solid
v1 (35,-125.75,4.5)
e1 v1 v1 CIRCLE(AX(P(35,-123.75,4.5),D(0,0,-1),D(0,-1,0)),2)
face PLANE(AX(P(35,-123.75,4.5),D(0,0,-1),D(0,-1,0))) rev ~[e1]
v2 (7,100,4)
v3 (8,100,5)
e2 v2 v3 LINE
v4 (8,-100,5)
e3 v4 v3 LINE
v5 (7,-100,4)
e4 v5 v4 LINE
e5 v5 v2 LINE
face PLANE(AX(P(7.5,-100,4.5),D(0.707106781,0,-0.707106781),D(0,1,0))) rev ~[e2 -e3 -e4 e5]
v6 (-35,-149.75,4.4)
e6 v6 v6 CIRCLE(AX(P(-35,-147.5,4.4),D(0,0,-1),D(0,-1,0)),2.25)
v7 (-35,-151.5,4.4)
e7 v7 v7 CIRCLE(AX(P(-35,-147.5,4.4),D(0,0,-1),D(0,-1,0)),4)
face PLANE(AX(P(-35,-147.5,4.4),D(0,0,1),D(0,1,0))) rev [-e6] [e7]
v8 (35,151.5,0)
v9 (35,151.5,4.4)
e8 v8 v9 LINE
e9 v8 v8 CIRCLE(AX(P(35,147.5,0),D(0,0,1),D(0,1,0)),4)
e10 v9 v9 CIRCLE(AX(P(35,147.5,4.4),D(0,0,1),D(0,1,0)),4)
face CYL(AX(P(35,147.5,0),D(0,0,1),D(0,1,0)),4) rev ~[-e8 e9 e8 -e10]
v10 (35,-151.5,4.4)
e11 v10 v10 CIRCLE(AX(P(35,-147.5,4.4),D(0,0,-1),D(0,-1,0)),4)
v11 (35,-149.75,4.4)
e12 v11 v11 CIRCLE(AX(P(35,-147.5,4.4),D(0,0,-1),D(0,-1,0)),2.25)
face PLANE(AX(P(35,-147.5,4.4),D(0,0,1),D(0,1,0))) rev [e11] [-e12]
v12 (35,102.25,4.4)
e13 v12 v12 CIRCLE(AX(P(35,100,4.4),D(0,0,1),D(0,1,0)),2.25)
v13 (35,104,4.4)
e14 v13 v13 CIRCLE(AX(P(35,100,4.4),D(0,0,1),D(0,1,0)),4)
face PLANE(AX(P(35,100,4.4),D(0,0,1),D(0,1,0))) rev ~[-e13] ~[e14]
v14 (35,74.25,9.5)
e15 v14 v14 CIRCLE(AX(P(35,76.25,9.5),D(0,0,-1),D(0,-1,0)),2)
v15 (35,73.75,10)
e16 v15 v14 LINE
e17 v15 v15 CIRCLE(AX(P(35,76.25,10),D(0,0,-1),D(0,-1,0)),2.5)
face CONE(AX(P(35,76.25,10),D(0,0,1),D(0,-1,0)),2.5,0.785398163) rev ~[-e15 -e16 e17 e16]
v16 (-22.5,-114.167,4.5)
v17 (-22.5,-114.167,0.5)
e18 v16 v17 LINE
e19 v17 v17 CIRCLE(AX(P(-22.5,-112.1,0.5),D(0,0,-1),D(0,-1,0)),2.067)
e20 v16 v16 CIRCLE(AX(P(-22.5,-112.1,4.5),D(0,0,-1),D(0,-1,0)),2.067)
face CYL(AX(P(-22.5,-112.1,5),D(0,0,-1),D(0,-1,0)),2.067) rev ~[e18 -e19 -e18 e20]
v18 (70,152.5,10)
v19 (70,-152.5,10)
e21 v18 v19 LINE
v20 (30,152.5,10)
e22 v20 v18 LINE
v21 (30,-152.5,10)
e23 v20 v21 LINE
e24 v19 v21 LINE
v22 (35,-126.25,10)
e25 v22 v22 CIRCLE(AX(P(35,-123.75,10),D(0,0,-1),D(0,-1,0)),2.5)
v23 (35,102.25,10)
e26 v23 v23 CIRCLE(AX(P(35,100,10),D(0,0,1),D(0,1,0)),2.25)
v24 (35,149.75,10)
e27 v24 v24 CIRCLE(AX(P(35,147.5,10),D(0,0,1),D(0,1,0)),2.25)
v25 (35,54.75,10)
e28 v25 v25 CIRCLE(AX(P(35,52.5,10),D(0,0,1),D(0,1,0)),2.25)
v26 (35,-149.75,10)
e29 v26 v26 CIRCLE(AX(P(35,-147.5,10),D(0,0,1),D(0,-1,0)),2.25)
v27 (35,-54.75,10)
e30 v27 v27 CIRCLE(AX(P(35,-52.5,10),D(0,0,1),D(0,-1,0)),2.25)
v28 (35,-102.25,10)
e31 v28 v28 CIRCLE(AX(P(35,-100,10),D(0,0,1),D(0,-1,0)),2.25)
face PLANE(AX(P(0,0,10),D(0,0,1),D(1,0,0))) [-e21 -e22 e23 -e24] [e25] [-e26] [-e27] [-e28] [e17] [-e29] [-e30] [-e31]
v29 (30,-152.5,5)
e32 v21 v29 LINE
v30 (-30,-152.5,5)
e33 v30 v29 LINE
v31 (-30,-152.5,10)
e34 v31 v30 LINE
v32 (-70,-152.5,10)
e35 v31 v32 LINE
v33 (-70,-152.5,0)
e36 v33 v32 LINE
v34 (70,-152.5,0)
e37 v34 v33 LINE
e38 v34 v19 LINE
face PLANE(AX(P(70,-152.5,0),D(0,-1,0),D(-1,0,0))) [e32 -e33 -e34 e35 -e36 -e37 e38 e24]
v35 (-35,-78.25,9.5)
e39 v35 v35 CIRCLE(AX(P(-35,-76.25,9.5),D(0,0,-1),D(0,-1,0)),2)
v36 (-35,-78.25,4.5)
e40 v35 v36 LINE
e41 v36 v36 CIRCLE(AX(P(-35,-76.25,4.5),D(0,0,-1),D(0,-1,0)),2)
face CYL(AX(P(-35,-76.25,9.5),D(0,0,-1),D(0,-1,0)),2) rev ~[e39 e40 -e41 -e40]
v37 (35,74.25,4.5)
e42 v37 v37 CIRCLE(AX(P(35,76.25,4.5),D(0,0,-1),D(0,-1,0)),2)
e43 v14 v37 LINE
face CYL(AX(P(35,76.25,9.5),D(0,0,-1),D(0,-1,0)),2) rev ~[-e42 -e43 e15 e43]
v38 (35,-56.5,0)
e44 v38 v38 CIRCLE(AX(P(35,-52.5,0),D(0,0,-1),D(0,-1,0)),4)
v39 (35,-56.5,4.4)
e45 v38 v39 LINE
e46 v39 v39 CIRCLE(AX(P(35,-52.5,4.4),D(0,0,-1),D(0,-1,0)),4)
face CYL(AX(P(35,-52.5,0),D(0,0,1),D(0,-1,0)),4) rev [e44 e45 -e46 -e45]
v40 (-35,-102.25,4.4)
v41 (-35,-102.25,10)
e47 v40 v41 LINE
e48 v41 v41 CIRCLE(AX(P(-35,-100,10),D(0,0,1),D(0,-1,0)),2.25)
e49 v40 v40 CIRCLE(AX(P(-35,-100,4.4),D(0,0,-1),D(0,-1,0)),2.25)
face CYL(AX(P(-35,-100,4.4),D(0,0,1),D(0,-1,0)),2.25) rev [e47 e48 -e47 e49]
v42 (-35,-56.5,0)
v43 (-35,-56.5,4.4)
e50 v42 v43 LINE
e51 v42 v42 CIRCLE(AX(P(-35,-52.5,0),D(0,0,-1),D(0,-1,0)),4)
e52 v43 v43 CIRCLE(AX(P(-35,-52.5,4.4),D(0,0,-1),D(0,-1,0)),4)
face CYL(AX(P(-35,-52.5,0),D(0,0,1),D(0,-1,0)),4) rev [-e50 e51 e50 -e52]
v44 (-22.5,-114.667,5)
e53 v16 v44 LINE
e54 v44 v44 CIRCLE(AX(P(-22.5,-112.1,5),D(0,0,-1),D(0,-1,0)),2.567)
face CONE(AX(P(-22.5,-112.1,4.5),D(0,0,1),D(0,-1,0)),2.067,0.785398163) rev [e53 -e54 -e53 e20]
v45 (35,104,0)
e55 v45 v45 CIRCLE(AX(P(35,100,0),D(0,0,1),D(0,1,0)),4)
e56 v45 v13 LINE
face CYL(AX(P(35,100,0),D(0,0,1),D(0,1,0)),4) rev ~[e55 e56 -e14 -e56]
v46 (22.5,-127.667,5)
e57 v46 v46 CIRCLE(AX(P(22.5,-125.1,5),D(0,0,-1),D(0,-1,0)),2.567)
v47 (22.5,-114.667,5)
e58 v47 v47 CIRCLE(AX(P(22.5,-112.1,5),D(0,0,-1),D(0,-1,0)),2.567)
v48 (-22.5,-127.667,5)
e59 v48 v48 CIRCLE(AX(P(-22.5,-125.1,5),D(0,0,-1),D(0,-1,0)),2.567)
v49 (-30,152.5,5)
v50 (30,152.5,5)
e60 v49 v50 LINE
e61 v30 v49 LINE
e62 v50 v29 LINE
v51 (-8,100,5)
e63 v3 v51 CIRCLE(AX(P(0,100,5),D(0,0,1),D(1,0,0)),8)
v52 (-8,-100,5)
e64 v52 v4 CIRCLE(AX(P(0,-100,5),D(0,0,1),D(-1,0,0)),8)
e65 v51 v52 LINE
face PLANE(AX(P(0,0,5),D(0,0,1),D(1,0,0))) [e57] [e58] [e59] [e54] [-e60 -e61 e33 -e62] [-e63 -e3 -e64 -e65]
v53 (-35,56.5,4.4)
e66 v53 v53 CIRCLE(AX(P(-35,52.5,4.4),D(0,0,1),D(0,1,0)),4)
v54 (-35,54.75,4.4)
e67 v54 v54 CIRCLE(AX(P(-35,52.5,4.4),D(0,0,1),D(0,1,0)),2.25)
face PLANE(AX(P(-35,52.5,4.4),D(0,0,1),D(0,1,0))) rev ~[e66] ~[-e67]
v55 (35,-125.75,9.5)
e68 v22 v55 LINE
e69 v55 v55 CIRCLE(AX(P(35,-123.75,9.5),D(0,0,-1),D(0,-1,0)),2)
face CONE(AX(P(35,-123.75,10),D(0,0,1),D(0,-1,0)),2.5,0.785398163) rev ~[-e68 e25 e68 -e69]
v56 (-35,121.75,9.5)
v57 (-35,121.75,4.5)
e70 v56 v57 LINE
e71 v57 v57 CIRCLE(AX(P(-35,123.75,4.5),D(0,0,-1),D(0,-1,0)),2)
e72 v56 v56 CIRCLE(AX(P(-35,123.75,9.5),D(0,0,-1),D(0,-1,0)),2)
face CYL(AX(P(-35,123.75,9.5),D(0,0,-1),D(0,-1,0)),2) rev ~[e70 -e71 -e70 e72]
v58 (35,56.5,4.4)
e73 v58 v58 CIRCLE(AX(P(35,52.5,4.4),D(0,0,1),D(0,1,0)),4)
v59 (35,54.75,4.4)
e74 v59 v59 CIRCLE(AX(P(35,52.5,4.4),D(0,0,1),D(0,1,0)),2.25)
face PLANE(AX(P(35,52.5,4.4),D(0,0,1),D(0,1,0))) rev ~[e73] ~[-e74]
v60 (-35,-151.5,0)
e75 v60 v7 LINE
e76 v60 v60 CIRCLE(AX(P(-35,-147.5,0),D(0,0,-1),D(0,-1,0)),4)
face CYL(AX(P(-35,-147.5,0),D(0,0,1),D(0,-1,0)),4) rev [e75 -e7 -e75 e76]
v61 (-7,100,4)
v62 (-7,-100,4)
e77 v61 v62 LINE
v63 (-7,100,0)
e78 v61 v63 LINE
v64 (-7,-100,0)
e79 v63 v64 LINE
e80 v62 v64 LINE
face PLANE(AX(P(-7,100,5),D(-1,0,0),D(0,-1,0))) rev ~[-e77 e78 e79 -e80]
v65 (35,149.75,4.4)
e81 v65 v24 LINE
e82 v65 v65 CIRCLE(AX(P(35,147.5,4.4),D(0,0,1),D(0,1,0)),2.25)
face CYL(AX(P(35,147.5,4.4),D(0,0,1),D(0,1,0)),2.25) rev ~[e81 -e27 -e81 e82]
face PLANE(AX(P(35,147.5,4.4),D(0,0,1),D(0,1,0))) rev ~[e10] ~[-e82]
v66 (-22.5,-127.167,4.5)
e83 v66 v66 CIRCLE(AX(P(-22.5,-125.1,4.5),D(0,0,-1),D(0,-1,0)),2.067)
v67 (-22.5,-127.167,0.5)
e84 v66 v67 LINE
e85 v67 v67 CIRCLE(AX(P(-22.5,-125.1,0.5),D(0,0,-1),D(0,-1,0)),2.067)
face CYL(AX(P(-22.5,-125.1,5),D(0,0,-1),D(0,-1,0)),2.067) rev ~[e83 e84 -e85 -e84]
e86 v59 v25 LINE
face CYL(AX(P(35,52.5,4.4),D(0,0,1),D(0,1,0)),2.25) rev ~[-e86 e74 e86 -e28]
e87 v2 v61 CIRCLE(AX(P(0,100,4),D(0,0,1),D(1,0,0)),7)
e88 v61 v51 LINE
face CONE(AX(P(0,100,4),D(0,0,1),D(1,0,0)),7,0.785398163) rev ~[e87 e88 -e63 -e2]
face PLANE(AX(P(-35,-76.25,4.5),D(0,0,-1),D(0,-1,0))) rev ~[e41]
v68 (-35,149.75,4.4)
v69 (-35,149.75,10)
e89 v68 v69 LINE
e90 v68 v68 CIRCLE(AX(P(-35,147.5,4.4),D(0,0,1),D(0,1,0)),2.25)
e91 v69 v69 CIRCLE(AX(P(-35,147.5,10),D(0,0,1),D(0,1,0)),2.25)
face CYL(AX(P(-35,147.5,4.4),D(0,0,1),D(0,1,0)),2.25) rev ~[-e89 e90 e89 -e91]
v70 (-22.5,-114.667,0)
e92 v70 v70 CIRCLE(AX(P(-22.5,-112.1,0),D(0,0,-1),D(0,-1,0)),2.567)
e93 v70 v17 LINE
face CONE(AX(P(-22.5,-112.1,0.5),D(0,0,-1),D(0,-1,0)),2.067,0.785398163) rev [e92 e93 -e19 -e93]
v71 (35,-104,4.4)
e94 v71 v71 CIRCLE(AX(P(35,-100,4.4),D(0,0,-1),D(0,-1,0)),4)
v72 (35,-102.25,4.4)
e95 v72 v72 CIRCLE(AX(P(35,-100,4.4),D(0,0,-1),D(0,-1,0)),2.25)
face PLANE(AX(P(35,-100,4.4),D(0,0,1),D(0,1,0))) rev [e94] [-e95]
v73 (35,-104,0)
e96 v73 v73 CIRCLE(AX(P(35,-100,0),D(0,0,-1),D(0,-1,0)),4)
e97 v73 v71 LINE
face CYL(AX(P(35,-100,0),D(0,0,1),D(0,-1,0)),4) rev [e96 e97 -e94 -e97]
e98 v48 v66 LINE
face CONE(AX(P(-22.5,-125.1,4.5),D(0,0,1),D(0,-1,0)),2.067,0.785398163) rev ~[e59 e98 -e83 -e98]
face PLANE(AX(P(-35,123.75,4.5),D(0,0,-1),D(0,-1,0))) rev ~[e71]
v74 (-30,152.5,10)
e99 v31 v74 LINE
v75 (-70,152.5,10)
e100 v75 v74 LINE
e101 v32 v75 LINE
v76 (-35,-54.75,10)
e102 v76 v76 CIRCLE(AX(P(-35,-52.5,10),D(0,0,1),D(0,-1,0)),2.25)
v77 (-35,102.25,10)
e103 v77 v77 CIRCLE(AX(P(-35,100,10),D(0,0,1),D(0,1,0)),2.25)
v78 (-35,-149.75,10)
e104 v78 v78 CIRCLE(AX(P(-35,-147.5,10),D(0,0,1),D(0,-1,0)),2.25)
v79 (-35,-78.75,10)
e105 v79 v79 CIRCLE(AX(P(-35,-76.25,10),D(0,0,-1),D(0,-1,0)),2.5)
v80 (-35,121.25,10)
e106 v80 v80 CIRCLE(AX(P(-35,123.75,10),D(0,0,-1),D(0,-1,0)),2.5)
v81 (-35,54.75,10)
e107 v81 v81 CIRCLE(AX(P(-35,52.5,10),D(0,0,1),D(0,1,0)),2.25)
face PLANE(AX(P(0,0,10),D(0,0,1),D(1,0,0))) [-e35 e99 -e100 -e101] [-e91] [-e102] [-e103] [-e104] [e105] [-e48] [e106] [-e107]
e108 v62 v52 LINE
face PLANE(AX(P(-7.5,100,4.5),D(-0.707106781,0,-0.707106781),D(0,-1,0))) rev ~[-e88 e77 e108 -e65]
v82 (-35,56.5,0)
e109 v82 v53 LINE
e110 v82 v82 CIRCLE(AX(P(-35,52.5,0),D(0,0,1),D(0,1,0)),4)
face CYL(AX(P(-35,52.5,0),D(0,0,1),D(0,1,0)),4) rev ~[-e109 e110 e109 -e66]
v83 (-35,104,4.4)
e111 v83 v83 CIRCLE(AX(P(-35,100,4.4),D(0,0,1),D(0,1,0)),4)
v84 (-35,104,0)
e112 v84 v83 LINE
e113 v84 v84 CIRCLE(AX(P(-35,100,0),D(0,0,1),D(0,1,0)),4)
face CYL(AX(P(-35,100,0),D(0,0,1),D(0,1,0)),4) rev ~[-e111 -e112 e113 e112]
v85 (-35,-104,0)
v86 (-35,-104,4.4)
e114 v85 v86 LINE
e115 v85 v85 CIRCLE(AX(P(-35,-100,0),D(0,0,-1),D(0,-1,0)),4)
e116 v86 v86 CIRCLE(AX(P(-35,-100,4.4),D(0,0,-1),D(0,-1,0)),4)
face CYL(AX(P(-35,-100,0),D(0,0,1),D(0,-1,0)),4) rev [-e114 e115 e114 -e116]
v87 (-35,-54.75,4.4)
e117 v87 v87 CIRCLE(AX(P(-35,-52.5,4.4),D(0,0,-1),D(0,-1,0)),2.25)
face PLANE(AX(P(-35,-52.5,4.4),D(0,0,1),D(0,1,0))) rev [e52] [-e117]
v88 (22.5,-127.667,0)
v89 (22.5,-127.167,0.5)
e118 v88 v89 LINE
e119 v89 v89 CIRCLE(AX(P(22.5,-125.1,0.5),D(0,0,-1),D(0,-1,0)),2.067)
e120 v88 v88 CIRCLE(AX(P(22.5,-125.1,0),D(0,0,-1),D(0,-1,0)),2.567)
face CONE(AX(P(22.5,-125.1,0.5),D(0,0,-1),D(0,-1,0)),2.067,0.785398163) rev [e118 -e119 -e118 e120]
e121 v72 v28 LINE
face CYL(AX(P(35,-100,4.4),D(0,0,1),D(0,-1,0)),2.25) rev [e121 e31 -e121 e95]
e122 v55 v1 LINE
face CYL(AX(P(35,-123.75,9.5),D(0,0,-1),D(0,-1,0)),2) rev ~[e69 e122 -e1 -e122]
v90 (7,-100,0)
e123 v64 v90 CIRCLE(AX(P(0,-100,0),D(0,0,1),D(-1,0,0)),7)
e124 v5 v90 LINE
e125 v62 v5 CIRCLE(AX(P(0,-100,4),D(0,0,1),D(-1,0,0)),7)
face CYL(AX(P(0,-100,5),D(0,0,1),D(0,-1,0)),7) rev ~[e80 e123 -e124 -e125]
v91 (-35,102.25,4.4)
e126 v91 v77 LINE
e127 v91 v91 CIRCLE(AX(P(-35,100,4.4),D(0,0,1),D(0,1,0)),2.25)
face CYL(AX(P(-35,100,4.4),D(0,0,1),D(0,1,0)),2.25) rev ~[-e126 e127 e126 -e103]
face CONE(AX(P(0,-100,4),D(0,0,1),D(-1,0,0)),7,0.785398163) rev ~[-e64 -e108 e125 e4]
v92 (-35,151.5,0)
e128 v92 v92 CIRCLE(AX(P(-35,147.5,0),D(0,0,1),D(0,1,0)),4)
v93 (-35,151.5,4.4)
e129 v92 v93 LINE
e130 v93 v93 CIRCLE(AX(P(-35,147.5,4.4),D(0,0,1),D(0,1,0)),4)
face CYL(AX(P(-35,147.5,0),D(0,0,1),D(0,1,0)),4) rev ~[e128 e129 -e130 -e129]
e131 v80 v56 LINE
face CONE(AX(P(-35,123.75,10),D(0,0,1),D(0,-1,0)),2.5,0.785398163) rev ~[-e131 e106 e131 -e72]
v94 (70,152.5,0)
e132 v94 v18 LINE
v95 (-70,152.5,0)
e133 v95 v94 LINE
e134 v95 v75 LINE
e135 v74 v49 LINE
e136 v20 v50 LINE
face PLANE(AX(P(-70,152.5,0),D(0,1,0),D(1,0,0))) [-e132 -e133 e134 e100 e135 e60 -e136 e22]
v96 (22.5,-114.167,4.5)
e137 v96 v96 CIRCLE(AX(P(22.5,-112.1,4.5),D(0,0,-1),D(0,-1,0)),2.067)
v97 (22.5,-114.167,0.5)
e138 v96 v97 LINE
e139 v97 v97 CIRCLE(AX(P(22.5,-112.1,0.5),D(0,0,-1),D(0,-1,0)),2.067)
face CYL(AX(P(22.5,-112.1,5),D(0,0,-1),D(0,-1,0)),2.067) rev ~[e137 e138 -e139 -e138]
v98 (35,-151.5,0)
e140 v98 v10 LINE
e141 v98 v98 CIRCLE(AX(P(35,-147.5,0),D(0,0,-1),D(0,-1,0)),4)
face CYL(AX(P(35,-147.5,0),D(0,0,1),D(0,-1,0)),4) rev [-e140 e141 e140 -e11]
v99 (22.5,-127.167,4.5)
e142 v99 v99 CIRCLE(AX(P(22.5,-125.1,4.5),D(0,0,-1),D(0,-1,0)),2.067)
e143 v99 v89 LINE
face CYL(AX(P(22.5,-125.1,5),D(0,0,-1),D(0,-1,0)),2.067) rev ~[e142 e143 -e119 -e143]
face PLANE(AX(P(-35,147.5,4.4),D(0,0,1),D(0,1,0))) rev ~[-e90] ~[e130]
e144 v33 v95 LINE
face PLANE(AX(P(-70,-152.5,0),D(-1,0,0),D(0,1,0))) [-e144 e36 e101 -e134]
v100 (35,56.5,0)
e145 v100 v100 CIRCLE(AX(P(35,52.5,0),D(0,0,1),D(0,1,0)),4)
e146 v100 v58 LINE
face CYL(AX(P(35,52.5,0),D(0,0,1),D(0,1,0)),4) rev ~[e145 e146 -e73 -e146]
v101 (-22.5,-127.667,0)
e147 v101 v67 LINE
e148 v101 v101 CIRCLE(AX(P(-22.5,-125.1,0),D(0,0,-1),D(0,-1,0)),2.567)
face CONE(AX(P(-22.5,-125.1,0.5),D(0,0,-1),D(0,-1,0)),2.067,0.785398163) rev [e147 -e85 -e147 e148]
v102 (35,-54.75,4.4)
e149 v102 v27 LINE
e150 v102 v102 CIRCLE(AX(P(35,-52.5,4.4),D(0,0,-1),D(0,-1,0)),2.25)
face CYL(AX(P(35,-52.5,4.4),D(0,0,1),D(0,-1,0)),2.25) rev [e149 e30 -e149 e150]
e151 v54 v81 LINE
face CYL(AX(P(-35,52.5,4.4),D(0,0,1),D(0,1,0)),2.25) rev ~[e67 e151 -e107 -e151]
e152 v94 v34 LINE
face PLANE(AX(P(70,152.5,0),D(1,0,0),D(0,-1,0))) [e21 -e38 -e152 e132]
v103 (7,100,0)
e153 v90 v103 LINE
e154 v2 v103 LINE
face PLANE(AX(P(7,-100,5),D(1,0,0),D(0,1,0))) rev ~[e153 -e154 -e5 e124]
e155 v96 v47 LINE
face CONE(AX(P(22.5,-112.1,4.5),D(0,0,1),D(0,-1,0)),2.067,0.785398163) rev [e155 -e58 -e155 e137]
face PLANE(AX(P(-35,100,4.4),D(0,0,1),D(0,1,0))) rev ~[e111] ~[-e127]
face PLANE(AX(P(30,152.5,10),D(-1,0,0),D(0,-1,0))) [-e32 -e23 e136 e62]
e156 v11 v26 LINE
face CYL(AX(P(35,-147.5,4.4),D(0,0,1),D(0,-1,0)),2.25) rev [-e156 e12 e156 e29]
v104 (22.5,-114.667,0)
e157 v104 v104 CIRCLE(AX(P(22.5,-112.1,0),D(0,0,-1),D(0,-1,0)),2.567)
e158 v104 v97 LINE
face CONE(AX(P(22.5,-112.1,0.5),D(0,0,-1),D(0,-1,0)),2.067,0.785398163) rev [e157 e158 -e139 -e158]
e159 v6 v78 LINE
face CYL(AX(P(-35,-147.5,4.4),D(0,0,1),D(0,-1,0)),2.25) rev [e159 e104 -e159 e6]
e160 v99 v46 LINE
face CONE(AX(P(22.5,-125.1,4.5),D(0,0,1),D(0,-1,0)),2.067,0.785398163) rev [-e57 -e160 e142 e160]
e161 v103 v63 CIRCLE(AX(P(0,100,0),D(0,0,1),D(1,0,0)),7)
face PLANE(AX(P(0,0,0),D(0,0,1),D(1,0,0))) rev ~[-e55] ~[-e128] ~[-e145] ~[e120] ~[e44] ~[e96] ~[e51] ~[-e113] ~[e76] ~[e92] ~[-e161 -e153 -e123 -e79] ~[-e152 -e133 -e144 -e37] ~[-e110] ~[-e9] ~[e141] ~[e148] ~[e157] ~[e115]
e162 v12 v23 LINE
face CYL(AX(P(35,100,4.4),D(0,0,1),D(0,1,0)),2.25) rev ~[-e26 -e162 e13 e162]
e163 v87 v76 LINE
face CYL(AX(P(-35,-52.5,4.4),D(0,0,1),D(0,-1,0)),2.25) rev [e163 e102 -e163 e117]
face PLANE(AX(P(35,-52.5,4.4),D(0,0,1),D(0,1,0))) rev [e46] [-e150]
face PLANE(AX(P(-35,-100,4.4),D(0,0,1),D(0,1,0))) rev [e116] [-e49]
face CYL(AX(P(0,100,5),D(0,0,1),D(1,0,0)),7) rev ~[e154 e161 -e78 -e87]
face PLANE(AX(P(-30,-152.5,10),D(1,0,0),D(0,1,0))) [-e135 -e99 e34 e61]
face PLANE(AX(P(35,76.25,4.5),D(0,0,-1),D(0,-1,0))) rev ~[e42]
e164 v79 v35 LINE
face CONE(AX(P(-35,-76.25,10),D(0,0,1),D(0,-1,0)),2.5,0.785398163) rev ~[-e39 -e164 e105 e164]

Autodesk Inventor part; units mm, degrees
ref_plane "YZ Plane" through (0, 0, 0) normal (1, 0, 0) x (0, 1, 0)
ref_plane "XZ Plane" through (0, 0, 0) normal (0, 1, 0) x (-1, 0, 0)
ref_plane "XY Plane" through (0, 0, 0) normal (0, 0, 1) x (1, 0, 0)
sketch "Skizze1" plane through (0, 0, 0) normal (0, 0, 1) x (1, 0, 0)
  line L0 (-70, 152.5) -> (70, 152.5)
  line L1 (70, 152.5) -> (70, -152.5)
  line L2 (70, -152.5) -> (-70, -152.5)
  line L3 (-70, -152.5) -> (-70, 152.5)
  line L4 (-70, 152.5) -> (70, -152.5) construction
  line L5 (70, 152.5) -> (-70, -152.5) construction
  point P0 (0, 0)
  dimension "d2" = 140
  dimension "d3" = 305
extrude "Extrusion1" add sketch "Skizze1" along normal blind 10
sketch "Skizze2" plane through (0, 0, 0) normal (0, 0, -1) x (-1, 0, 0)
  point P0 (0, 0)
  point P1 (-35, 147.5)
  dimension "d6" = 147.5
  dimension "d7" = 35
sketch "Skizze4" plane through (0, 0, 10) normal (0, 0, 1) x (1, 0, 0)
  spline S0 degree 3 poles (4.1682, 35.1897) (1.1905, 36.4598) (-2.2497, 35.1642) (-6.2549, 34.1582) (-11.736, 32.1479) (-17.2675, 27.437) (-17.3979, 22.2805) (-19.1794, 11.8373) (-24.2043, -4.2198) (-21.9122, -21.3618) (-15.7263, -32.1361) (-8.9601, -34.8731) (-7.7344, -35.2068) knots 0 0 0 0 0.027675 0.038264 0.105891 0.147773 0.191482 0.216461 0.377442 0.40617 0.483619 0.5 0.5 0.5 0.5
  spline S1 degree 3 poles (-7.7344, -35.2068) (-2.4391, -36.6482) (4.9342, -35.145) (14.3889, -31.3641) (20.2206, -28.2766) (23.0847, -23.1792) (23.281, -18.9959) (17.3062, -16.4997) (13.7398, -19.2937) (6.9074, -22.9332) (-1.1986, -27.1621) (-10.3055, -22.9326) (-14.0352, -10.4002) (-9.4599, -0.926) (-6.8333, 0.3153) (-5.9182, 2.0588) (-5.9367, 4.1791) (-8.2887, 5.2306) (-8.3641, 10.4373) (-1.0106, 14.1251) (4.0821, 20.0507) (3.0635, 26.3026) (2.9493, 28.6136) (3.7888, 29.834) (5.5778, 31.0924) (6.6132, 32.7745) (5.2458, 34.7086) (4.2657, 35.1481) (4.1682, 35.1897) knots 0.5 0.5 0.5 0.5 0.570765 0.585175 0.622993 0.62946 0.645114 0.663132 0.686116 0.69449 0.741048 0.754128 0.812208 0.823709 0.857637 0.863035 0.873446 0.900861 0.905942 0.924257 0.958178 0.971687 0.974109 0.98148 0.983255 0.99094 0.999094 1 1 1 1
  arc A0 (-7.9107, 24.207) -> (-7.9109, 20.407) centre (-6.0635, 22.307) ccw
  line L0 (-7.9107, 24.207) -> (-4.2161, 24.2069)
  arc A1 (-4.2163, 20.4069) -> (-4.2161, 24.2069) centre (-6.0635, 22.307) ccw
  line L1 (-4.2163, 20.4069) -> (-7.9109, 20.407)
  spline S2 degree 3 poles (4.1682, 35.1897) (1.1905, 36.4598) (-2.2497, 35.1642) (-6.255, 34.1582) (-11.7361, 32.1479) (-17.2675, 27.437) (-17.3979, 22.2805) (-19.1794, 11.8373) (-24.2043, -4.2198) (-21.9122, -21.3619) (-15.7263, -32.1361) (-8.9601, -34.8731) (-7.7344, -35.2068) knots 0 0 0 0 0.027675 0.038264 0.105891 0.147773 0.191482 0.216461 0.377442 0.40617 0.483619 0.5 0.5 0.5 0.5
  spline S3 degree 3 poles (-7.7344, -35.2068) (-2.4391, -36.6482) (4.9342, -35.145) (14.3889, -31.3641) (20.2206, -28.2766) (23.0847, -23.1792) (23.281, -18.9959) (17.3062, -16.4997) (13.7398, -19.2937) (6.9074, -22.9332) (-1.1986, -27.1621) (-10.3055, -22.9326) (-14.0352, -10.4002) (-9.4599, -0.926) (-6.8333, 0.3153) (-5.9182, 2.0588) (-5.9367, 4.1791) (-8.2887, 5.2306) (-8.3641, 10.4373) (-1.0106, 14.1251) (4.0821, 20.0507) (3.0635, 26.3026) (2.9493, 28.6136) (3.7888, 29.834) (5.5778, 31.0924) (6.6132, 32.7745) (5.2458, 34.7086) (4.2657, 35.1481) (4.1682, 35.1897) knots 0.5 0.5 0.5 0.5 0.570765 0.585175 0.622993 0.62946 0.645114 0.663132 0.686116 0.69449 0.741048 0.754128 0.812208 0.823709 0.857637 0.863035 0.873446 0.900861 0.905942 0.924257 0.958178 0.971687 0.974109 0.98148 0.983255 0.99094 0.999094 1 1 1 1
  line L2 (-4.2163, 20.4069) -> (-7.9109, 20.407)
  arc A2 (-4.2163, 20.4069) -> (-4.2161, 24.2069) centre (-6.0635, 22.307) ccw
  line L3 (-7.9107, 24.207) -> (-4.2161, 24.2069)
  arc A3 (-7.9107, 24.207) -> (-7.9109, 20.407) centre (-6.0635, 22.307) ccw
  line L4 (-22.9949, 35.8296) -> (22.9949, 35.8296) construction
  line L5 (22.9949, 35.8296) -> (22.9949, -35.8296) construction
  line L6 (22.9949, -35.8296) -> (-22.9949, -35.8296) construction
  line L7 (-22.9949, -35.8296) -> (-22.9949, 35.8296) construction
  line L8 (-22.9949, 35.8296) -> (22.9949, -35.8296) construction
  line L9 (-22.9949, -35.8296) -> (22.9949, 35.8296) construction
  point P0 (0, 0)
  point P1 (0, 0)
  point P2 (0, 0)
hole "Bohrung2" at (35, 147.5, 0) direction (0, 0, 1) diameter 4.5 end through all counterbore diameter 8 counterbore depth 4.4
pattern_linear "Rechteckige Anordnung2" count 3 spacing 47.5 along (0, -1, 0) count 2 spacing 70 along (-1, 0, 0) of "Bohrung2"
mirror "Spiegeln2" about plane through (0, 0, 0) normal (0, 1, 0) of "Bohrung2", "Rechteckige Anordnung2"
sketch "Skizze7" plane through (0, 0, 10) normal (0, 0, 1) x (1, 0, 0)
  line L0 (-70, -152.5) -> (70, -152.5) projected
  line L1 (-30, 152.5) -> (30, 152.5)
  line L2 (30, 152.5) -> (30, -152.5)
  line L3 (30, -152.5) -> (-30, -152.5)
  line L4 (-30, -152.5) -> (-30, 152.5)
  line L5 (-70, 152.5) -> (-70, -152.5) projected
  line L6 (70, 152.5) -> (-70, 152.5) projected
  point P0 (0, 0)
  dimension "d99" = 60
  dimension "d100" = 40
extrude "Extrusion4" cut sketch "Skizze7" against normal blind 5 contours L4 L1 L2 L0
sketch "Skizze8" plane through (0, 0, 5) normal (0, 0, 1) x (1, 0, 0)
  arc A0 (-32.75, -100) -> (-32.75, -100) centre (-35, -100) ccw projected
  arc A1 (37.25, -100) -> (37.25, -100) centre (35, -100) ccw projected
  arc A2 (31, 100) -> (31, 100) centre (35, 100) ccw projected
  arc A3 (-32.75, 100) -> (-32.75, 100) centre (-35, 100) ccw projected
  arc A4 (37.25, 100) -> (37.25, 100) centre (35, 100) ccw projected
  line L0 (30, -152.5) -> (-30, -152.5) projected
  line L1 (30, 152.5) -> (30, -152.5) projected
  line L2 (-30, 152.5) -> (30, 152.5) projected
  line L3 (-30, -152.5) -> (-30, 152.5) projected
  arc A5 (31, -100) -> (31, -100) centre (35, -100) ccw construction
  arc A6 (-39, 100) -> (-39, 100) centre (-35, 100) ccw construction
  line L4 (0, -107) -> (0, -107)
  line L5 (7, -100) -> (7, 100)
  line L6 (0, 107) -> (0, 107)
  line L7 (-7, 100) -> (-7, -100)
  arc A7 (-7, -100) -> (0, -107) centre (0, -100) ccw
  arc A8 (0, -107) -> (7, -100) centre (0, -100) ccw
  arc A9 (7, 100) -> (0, 107) centre (0, 100) ccw
  arc A10 (0, 107) -> (-7, 100) centre (0, 100) ccw
  point P0 (0, 0)
  point P1 (0, 107)
  point P2 (0, -107)
  dimension "d157" = 14
  dimension "d158" = 7
  dimension "d159" = 52.5
  dimension "d160" = 200
extrude "Extrusion5" cut sketch "Skizze8" against normal through all contours A8 A7 L7 A10 A9 L5
sketch "Skizze9" plane through (0, 0, 5) normal (0, 0, 1) x (1, 0, 0)
  line L0 (30, -152.5) -> (-30, -152.5) projected
  point P0 (0, 0)
  point P1 (-22.5, -125.1)
  point P2 (0, -152.5)
  dimension "d116" = 22.5
  dimension "d117" = 27.4
hole "Bohrung3" at (-22.5, -125.1, 5) direction (0, 0, -1) diameter 4.134 end through all thread size "M5x0.8" class "6H" standard "ISO Metric profile"
chamfer "Fasen2" distance 0.5 angle 45 2 edges at (-22.5, -123.033, 5) (-22.5, -123.033, 0)
pattern_linear "Rechteckige Anordnung3" count 2 spacing 45 along (1, 0, 0) count 2 spacing 13 along (0, 1, 0) of "Bohrung3", "Fasen2"
sketch "Skizze10" plane through (0, 0, 10) normal (0, 0, 1) x (1, 0, 0)
  circle A0 centre (35, -147.5) radius 2.25 projected
  circle A1 centre (-35, -52.5) radius 2.25 projected
  circle A2 centre (-35, -100) radius 2.25 projected
  circle A3 centre (35, -100) radius 2.25 projected
  circle A4 centre (35, 100) radius 2.25 projected
  circle A5 centre (35, 147.5) radius 2.25 projected
  circle A6 centre (-35, 100) radius 2.25 projected
  circle A7 centre (-35, 52.5) radius 2.25 projected
  point P0 (0, 0)
  point P1 (35, -123.75)
  point P2 (-35, -76.25)
  point P3 (-35, 123.75)
  point P4 (35, 76.25)
  dimension "d137" = 23.75
  dimension "d138" = 23.75
  dimension "d149" = 23.75
  dimension "d150" = 23.75
hole "Bohrung4" at (35, -123.75, 10) at (-35, -76.25, 10) at (-35, 123.75, 10) at (35, 76.25, 10) direction (0, 0, -1) diameter 4 depth 5.5 countersink diameter 5 countersink angle 90
chamfer "Fasen3" distance 1 angle 45 4 edges at (-7, 0, 5) (0, 107, 5) (7, 0, 5) (0, -107, 5)
equation "\"d2\" = Breite_aussen + 2 * Montierflaeche"
equation "\"d3\" = 2 * Laenge_aussen + Zwischenteil"
equation "\"d4\" = Wanddicke"
equation "\"d6\" = 0.5 * Zwischenteil + Laenge_aussen - 0.5 * Wanddicke"
equation "\"d7\" = -0.5 * Wanddicke + 0.5 * Breite_aussen"
equation "\"d95\" = -0.5 * Wanddicke + 0.5 * Laenge_aussen"
equation "\"d98\" = Breite_aussen - Wanddicke"
equation "\"d99\" = Breite_aussen - 2 * Wanddicke"
equation "\"d100\" = Wanddicke + Montierflaeche"
equation "\"d101\" = Absatz"
equation "\"d137\" = d135"
equation "\"d138\" = d135"
equation "\"d149\" = d135"
equation "\"d150\" = d149"
equation "\"Breite_aussen\" = 80"
equation "\"Laenge_aussen\" = 105"
equation "\"Wanddicke\" = 10"
equation "\"Laenge_innen\" = Laenge_aussen - Wanddicke"
equation "\"Absatz\" = 5"
equation "\"Kolbenanbindung_Breite\" = 14"
equation "\"d135\" = 0.5 * d134"
equation "\"Montierflaeche\" = 30"
equation "\"Zwischenteil\" = 95"
equation "\"d134\" = 47.5"
properties part number "TS_V1_Fallmagazin_Boden_int"
